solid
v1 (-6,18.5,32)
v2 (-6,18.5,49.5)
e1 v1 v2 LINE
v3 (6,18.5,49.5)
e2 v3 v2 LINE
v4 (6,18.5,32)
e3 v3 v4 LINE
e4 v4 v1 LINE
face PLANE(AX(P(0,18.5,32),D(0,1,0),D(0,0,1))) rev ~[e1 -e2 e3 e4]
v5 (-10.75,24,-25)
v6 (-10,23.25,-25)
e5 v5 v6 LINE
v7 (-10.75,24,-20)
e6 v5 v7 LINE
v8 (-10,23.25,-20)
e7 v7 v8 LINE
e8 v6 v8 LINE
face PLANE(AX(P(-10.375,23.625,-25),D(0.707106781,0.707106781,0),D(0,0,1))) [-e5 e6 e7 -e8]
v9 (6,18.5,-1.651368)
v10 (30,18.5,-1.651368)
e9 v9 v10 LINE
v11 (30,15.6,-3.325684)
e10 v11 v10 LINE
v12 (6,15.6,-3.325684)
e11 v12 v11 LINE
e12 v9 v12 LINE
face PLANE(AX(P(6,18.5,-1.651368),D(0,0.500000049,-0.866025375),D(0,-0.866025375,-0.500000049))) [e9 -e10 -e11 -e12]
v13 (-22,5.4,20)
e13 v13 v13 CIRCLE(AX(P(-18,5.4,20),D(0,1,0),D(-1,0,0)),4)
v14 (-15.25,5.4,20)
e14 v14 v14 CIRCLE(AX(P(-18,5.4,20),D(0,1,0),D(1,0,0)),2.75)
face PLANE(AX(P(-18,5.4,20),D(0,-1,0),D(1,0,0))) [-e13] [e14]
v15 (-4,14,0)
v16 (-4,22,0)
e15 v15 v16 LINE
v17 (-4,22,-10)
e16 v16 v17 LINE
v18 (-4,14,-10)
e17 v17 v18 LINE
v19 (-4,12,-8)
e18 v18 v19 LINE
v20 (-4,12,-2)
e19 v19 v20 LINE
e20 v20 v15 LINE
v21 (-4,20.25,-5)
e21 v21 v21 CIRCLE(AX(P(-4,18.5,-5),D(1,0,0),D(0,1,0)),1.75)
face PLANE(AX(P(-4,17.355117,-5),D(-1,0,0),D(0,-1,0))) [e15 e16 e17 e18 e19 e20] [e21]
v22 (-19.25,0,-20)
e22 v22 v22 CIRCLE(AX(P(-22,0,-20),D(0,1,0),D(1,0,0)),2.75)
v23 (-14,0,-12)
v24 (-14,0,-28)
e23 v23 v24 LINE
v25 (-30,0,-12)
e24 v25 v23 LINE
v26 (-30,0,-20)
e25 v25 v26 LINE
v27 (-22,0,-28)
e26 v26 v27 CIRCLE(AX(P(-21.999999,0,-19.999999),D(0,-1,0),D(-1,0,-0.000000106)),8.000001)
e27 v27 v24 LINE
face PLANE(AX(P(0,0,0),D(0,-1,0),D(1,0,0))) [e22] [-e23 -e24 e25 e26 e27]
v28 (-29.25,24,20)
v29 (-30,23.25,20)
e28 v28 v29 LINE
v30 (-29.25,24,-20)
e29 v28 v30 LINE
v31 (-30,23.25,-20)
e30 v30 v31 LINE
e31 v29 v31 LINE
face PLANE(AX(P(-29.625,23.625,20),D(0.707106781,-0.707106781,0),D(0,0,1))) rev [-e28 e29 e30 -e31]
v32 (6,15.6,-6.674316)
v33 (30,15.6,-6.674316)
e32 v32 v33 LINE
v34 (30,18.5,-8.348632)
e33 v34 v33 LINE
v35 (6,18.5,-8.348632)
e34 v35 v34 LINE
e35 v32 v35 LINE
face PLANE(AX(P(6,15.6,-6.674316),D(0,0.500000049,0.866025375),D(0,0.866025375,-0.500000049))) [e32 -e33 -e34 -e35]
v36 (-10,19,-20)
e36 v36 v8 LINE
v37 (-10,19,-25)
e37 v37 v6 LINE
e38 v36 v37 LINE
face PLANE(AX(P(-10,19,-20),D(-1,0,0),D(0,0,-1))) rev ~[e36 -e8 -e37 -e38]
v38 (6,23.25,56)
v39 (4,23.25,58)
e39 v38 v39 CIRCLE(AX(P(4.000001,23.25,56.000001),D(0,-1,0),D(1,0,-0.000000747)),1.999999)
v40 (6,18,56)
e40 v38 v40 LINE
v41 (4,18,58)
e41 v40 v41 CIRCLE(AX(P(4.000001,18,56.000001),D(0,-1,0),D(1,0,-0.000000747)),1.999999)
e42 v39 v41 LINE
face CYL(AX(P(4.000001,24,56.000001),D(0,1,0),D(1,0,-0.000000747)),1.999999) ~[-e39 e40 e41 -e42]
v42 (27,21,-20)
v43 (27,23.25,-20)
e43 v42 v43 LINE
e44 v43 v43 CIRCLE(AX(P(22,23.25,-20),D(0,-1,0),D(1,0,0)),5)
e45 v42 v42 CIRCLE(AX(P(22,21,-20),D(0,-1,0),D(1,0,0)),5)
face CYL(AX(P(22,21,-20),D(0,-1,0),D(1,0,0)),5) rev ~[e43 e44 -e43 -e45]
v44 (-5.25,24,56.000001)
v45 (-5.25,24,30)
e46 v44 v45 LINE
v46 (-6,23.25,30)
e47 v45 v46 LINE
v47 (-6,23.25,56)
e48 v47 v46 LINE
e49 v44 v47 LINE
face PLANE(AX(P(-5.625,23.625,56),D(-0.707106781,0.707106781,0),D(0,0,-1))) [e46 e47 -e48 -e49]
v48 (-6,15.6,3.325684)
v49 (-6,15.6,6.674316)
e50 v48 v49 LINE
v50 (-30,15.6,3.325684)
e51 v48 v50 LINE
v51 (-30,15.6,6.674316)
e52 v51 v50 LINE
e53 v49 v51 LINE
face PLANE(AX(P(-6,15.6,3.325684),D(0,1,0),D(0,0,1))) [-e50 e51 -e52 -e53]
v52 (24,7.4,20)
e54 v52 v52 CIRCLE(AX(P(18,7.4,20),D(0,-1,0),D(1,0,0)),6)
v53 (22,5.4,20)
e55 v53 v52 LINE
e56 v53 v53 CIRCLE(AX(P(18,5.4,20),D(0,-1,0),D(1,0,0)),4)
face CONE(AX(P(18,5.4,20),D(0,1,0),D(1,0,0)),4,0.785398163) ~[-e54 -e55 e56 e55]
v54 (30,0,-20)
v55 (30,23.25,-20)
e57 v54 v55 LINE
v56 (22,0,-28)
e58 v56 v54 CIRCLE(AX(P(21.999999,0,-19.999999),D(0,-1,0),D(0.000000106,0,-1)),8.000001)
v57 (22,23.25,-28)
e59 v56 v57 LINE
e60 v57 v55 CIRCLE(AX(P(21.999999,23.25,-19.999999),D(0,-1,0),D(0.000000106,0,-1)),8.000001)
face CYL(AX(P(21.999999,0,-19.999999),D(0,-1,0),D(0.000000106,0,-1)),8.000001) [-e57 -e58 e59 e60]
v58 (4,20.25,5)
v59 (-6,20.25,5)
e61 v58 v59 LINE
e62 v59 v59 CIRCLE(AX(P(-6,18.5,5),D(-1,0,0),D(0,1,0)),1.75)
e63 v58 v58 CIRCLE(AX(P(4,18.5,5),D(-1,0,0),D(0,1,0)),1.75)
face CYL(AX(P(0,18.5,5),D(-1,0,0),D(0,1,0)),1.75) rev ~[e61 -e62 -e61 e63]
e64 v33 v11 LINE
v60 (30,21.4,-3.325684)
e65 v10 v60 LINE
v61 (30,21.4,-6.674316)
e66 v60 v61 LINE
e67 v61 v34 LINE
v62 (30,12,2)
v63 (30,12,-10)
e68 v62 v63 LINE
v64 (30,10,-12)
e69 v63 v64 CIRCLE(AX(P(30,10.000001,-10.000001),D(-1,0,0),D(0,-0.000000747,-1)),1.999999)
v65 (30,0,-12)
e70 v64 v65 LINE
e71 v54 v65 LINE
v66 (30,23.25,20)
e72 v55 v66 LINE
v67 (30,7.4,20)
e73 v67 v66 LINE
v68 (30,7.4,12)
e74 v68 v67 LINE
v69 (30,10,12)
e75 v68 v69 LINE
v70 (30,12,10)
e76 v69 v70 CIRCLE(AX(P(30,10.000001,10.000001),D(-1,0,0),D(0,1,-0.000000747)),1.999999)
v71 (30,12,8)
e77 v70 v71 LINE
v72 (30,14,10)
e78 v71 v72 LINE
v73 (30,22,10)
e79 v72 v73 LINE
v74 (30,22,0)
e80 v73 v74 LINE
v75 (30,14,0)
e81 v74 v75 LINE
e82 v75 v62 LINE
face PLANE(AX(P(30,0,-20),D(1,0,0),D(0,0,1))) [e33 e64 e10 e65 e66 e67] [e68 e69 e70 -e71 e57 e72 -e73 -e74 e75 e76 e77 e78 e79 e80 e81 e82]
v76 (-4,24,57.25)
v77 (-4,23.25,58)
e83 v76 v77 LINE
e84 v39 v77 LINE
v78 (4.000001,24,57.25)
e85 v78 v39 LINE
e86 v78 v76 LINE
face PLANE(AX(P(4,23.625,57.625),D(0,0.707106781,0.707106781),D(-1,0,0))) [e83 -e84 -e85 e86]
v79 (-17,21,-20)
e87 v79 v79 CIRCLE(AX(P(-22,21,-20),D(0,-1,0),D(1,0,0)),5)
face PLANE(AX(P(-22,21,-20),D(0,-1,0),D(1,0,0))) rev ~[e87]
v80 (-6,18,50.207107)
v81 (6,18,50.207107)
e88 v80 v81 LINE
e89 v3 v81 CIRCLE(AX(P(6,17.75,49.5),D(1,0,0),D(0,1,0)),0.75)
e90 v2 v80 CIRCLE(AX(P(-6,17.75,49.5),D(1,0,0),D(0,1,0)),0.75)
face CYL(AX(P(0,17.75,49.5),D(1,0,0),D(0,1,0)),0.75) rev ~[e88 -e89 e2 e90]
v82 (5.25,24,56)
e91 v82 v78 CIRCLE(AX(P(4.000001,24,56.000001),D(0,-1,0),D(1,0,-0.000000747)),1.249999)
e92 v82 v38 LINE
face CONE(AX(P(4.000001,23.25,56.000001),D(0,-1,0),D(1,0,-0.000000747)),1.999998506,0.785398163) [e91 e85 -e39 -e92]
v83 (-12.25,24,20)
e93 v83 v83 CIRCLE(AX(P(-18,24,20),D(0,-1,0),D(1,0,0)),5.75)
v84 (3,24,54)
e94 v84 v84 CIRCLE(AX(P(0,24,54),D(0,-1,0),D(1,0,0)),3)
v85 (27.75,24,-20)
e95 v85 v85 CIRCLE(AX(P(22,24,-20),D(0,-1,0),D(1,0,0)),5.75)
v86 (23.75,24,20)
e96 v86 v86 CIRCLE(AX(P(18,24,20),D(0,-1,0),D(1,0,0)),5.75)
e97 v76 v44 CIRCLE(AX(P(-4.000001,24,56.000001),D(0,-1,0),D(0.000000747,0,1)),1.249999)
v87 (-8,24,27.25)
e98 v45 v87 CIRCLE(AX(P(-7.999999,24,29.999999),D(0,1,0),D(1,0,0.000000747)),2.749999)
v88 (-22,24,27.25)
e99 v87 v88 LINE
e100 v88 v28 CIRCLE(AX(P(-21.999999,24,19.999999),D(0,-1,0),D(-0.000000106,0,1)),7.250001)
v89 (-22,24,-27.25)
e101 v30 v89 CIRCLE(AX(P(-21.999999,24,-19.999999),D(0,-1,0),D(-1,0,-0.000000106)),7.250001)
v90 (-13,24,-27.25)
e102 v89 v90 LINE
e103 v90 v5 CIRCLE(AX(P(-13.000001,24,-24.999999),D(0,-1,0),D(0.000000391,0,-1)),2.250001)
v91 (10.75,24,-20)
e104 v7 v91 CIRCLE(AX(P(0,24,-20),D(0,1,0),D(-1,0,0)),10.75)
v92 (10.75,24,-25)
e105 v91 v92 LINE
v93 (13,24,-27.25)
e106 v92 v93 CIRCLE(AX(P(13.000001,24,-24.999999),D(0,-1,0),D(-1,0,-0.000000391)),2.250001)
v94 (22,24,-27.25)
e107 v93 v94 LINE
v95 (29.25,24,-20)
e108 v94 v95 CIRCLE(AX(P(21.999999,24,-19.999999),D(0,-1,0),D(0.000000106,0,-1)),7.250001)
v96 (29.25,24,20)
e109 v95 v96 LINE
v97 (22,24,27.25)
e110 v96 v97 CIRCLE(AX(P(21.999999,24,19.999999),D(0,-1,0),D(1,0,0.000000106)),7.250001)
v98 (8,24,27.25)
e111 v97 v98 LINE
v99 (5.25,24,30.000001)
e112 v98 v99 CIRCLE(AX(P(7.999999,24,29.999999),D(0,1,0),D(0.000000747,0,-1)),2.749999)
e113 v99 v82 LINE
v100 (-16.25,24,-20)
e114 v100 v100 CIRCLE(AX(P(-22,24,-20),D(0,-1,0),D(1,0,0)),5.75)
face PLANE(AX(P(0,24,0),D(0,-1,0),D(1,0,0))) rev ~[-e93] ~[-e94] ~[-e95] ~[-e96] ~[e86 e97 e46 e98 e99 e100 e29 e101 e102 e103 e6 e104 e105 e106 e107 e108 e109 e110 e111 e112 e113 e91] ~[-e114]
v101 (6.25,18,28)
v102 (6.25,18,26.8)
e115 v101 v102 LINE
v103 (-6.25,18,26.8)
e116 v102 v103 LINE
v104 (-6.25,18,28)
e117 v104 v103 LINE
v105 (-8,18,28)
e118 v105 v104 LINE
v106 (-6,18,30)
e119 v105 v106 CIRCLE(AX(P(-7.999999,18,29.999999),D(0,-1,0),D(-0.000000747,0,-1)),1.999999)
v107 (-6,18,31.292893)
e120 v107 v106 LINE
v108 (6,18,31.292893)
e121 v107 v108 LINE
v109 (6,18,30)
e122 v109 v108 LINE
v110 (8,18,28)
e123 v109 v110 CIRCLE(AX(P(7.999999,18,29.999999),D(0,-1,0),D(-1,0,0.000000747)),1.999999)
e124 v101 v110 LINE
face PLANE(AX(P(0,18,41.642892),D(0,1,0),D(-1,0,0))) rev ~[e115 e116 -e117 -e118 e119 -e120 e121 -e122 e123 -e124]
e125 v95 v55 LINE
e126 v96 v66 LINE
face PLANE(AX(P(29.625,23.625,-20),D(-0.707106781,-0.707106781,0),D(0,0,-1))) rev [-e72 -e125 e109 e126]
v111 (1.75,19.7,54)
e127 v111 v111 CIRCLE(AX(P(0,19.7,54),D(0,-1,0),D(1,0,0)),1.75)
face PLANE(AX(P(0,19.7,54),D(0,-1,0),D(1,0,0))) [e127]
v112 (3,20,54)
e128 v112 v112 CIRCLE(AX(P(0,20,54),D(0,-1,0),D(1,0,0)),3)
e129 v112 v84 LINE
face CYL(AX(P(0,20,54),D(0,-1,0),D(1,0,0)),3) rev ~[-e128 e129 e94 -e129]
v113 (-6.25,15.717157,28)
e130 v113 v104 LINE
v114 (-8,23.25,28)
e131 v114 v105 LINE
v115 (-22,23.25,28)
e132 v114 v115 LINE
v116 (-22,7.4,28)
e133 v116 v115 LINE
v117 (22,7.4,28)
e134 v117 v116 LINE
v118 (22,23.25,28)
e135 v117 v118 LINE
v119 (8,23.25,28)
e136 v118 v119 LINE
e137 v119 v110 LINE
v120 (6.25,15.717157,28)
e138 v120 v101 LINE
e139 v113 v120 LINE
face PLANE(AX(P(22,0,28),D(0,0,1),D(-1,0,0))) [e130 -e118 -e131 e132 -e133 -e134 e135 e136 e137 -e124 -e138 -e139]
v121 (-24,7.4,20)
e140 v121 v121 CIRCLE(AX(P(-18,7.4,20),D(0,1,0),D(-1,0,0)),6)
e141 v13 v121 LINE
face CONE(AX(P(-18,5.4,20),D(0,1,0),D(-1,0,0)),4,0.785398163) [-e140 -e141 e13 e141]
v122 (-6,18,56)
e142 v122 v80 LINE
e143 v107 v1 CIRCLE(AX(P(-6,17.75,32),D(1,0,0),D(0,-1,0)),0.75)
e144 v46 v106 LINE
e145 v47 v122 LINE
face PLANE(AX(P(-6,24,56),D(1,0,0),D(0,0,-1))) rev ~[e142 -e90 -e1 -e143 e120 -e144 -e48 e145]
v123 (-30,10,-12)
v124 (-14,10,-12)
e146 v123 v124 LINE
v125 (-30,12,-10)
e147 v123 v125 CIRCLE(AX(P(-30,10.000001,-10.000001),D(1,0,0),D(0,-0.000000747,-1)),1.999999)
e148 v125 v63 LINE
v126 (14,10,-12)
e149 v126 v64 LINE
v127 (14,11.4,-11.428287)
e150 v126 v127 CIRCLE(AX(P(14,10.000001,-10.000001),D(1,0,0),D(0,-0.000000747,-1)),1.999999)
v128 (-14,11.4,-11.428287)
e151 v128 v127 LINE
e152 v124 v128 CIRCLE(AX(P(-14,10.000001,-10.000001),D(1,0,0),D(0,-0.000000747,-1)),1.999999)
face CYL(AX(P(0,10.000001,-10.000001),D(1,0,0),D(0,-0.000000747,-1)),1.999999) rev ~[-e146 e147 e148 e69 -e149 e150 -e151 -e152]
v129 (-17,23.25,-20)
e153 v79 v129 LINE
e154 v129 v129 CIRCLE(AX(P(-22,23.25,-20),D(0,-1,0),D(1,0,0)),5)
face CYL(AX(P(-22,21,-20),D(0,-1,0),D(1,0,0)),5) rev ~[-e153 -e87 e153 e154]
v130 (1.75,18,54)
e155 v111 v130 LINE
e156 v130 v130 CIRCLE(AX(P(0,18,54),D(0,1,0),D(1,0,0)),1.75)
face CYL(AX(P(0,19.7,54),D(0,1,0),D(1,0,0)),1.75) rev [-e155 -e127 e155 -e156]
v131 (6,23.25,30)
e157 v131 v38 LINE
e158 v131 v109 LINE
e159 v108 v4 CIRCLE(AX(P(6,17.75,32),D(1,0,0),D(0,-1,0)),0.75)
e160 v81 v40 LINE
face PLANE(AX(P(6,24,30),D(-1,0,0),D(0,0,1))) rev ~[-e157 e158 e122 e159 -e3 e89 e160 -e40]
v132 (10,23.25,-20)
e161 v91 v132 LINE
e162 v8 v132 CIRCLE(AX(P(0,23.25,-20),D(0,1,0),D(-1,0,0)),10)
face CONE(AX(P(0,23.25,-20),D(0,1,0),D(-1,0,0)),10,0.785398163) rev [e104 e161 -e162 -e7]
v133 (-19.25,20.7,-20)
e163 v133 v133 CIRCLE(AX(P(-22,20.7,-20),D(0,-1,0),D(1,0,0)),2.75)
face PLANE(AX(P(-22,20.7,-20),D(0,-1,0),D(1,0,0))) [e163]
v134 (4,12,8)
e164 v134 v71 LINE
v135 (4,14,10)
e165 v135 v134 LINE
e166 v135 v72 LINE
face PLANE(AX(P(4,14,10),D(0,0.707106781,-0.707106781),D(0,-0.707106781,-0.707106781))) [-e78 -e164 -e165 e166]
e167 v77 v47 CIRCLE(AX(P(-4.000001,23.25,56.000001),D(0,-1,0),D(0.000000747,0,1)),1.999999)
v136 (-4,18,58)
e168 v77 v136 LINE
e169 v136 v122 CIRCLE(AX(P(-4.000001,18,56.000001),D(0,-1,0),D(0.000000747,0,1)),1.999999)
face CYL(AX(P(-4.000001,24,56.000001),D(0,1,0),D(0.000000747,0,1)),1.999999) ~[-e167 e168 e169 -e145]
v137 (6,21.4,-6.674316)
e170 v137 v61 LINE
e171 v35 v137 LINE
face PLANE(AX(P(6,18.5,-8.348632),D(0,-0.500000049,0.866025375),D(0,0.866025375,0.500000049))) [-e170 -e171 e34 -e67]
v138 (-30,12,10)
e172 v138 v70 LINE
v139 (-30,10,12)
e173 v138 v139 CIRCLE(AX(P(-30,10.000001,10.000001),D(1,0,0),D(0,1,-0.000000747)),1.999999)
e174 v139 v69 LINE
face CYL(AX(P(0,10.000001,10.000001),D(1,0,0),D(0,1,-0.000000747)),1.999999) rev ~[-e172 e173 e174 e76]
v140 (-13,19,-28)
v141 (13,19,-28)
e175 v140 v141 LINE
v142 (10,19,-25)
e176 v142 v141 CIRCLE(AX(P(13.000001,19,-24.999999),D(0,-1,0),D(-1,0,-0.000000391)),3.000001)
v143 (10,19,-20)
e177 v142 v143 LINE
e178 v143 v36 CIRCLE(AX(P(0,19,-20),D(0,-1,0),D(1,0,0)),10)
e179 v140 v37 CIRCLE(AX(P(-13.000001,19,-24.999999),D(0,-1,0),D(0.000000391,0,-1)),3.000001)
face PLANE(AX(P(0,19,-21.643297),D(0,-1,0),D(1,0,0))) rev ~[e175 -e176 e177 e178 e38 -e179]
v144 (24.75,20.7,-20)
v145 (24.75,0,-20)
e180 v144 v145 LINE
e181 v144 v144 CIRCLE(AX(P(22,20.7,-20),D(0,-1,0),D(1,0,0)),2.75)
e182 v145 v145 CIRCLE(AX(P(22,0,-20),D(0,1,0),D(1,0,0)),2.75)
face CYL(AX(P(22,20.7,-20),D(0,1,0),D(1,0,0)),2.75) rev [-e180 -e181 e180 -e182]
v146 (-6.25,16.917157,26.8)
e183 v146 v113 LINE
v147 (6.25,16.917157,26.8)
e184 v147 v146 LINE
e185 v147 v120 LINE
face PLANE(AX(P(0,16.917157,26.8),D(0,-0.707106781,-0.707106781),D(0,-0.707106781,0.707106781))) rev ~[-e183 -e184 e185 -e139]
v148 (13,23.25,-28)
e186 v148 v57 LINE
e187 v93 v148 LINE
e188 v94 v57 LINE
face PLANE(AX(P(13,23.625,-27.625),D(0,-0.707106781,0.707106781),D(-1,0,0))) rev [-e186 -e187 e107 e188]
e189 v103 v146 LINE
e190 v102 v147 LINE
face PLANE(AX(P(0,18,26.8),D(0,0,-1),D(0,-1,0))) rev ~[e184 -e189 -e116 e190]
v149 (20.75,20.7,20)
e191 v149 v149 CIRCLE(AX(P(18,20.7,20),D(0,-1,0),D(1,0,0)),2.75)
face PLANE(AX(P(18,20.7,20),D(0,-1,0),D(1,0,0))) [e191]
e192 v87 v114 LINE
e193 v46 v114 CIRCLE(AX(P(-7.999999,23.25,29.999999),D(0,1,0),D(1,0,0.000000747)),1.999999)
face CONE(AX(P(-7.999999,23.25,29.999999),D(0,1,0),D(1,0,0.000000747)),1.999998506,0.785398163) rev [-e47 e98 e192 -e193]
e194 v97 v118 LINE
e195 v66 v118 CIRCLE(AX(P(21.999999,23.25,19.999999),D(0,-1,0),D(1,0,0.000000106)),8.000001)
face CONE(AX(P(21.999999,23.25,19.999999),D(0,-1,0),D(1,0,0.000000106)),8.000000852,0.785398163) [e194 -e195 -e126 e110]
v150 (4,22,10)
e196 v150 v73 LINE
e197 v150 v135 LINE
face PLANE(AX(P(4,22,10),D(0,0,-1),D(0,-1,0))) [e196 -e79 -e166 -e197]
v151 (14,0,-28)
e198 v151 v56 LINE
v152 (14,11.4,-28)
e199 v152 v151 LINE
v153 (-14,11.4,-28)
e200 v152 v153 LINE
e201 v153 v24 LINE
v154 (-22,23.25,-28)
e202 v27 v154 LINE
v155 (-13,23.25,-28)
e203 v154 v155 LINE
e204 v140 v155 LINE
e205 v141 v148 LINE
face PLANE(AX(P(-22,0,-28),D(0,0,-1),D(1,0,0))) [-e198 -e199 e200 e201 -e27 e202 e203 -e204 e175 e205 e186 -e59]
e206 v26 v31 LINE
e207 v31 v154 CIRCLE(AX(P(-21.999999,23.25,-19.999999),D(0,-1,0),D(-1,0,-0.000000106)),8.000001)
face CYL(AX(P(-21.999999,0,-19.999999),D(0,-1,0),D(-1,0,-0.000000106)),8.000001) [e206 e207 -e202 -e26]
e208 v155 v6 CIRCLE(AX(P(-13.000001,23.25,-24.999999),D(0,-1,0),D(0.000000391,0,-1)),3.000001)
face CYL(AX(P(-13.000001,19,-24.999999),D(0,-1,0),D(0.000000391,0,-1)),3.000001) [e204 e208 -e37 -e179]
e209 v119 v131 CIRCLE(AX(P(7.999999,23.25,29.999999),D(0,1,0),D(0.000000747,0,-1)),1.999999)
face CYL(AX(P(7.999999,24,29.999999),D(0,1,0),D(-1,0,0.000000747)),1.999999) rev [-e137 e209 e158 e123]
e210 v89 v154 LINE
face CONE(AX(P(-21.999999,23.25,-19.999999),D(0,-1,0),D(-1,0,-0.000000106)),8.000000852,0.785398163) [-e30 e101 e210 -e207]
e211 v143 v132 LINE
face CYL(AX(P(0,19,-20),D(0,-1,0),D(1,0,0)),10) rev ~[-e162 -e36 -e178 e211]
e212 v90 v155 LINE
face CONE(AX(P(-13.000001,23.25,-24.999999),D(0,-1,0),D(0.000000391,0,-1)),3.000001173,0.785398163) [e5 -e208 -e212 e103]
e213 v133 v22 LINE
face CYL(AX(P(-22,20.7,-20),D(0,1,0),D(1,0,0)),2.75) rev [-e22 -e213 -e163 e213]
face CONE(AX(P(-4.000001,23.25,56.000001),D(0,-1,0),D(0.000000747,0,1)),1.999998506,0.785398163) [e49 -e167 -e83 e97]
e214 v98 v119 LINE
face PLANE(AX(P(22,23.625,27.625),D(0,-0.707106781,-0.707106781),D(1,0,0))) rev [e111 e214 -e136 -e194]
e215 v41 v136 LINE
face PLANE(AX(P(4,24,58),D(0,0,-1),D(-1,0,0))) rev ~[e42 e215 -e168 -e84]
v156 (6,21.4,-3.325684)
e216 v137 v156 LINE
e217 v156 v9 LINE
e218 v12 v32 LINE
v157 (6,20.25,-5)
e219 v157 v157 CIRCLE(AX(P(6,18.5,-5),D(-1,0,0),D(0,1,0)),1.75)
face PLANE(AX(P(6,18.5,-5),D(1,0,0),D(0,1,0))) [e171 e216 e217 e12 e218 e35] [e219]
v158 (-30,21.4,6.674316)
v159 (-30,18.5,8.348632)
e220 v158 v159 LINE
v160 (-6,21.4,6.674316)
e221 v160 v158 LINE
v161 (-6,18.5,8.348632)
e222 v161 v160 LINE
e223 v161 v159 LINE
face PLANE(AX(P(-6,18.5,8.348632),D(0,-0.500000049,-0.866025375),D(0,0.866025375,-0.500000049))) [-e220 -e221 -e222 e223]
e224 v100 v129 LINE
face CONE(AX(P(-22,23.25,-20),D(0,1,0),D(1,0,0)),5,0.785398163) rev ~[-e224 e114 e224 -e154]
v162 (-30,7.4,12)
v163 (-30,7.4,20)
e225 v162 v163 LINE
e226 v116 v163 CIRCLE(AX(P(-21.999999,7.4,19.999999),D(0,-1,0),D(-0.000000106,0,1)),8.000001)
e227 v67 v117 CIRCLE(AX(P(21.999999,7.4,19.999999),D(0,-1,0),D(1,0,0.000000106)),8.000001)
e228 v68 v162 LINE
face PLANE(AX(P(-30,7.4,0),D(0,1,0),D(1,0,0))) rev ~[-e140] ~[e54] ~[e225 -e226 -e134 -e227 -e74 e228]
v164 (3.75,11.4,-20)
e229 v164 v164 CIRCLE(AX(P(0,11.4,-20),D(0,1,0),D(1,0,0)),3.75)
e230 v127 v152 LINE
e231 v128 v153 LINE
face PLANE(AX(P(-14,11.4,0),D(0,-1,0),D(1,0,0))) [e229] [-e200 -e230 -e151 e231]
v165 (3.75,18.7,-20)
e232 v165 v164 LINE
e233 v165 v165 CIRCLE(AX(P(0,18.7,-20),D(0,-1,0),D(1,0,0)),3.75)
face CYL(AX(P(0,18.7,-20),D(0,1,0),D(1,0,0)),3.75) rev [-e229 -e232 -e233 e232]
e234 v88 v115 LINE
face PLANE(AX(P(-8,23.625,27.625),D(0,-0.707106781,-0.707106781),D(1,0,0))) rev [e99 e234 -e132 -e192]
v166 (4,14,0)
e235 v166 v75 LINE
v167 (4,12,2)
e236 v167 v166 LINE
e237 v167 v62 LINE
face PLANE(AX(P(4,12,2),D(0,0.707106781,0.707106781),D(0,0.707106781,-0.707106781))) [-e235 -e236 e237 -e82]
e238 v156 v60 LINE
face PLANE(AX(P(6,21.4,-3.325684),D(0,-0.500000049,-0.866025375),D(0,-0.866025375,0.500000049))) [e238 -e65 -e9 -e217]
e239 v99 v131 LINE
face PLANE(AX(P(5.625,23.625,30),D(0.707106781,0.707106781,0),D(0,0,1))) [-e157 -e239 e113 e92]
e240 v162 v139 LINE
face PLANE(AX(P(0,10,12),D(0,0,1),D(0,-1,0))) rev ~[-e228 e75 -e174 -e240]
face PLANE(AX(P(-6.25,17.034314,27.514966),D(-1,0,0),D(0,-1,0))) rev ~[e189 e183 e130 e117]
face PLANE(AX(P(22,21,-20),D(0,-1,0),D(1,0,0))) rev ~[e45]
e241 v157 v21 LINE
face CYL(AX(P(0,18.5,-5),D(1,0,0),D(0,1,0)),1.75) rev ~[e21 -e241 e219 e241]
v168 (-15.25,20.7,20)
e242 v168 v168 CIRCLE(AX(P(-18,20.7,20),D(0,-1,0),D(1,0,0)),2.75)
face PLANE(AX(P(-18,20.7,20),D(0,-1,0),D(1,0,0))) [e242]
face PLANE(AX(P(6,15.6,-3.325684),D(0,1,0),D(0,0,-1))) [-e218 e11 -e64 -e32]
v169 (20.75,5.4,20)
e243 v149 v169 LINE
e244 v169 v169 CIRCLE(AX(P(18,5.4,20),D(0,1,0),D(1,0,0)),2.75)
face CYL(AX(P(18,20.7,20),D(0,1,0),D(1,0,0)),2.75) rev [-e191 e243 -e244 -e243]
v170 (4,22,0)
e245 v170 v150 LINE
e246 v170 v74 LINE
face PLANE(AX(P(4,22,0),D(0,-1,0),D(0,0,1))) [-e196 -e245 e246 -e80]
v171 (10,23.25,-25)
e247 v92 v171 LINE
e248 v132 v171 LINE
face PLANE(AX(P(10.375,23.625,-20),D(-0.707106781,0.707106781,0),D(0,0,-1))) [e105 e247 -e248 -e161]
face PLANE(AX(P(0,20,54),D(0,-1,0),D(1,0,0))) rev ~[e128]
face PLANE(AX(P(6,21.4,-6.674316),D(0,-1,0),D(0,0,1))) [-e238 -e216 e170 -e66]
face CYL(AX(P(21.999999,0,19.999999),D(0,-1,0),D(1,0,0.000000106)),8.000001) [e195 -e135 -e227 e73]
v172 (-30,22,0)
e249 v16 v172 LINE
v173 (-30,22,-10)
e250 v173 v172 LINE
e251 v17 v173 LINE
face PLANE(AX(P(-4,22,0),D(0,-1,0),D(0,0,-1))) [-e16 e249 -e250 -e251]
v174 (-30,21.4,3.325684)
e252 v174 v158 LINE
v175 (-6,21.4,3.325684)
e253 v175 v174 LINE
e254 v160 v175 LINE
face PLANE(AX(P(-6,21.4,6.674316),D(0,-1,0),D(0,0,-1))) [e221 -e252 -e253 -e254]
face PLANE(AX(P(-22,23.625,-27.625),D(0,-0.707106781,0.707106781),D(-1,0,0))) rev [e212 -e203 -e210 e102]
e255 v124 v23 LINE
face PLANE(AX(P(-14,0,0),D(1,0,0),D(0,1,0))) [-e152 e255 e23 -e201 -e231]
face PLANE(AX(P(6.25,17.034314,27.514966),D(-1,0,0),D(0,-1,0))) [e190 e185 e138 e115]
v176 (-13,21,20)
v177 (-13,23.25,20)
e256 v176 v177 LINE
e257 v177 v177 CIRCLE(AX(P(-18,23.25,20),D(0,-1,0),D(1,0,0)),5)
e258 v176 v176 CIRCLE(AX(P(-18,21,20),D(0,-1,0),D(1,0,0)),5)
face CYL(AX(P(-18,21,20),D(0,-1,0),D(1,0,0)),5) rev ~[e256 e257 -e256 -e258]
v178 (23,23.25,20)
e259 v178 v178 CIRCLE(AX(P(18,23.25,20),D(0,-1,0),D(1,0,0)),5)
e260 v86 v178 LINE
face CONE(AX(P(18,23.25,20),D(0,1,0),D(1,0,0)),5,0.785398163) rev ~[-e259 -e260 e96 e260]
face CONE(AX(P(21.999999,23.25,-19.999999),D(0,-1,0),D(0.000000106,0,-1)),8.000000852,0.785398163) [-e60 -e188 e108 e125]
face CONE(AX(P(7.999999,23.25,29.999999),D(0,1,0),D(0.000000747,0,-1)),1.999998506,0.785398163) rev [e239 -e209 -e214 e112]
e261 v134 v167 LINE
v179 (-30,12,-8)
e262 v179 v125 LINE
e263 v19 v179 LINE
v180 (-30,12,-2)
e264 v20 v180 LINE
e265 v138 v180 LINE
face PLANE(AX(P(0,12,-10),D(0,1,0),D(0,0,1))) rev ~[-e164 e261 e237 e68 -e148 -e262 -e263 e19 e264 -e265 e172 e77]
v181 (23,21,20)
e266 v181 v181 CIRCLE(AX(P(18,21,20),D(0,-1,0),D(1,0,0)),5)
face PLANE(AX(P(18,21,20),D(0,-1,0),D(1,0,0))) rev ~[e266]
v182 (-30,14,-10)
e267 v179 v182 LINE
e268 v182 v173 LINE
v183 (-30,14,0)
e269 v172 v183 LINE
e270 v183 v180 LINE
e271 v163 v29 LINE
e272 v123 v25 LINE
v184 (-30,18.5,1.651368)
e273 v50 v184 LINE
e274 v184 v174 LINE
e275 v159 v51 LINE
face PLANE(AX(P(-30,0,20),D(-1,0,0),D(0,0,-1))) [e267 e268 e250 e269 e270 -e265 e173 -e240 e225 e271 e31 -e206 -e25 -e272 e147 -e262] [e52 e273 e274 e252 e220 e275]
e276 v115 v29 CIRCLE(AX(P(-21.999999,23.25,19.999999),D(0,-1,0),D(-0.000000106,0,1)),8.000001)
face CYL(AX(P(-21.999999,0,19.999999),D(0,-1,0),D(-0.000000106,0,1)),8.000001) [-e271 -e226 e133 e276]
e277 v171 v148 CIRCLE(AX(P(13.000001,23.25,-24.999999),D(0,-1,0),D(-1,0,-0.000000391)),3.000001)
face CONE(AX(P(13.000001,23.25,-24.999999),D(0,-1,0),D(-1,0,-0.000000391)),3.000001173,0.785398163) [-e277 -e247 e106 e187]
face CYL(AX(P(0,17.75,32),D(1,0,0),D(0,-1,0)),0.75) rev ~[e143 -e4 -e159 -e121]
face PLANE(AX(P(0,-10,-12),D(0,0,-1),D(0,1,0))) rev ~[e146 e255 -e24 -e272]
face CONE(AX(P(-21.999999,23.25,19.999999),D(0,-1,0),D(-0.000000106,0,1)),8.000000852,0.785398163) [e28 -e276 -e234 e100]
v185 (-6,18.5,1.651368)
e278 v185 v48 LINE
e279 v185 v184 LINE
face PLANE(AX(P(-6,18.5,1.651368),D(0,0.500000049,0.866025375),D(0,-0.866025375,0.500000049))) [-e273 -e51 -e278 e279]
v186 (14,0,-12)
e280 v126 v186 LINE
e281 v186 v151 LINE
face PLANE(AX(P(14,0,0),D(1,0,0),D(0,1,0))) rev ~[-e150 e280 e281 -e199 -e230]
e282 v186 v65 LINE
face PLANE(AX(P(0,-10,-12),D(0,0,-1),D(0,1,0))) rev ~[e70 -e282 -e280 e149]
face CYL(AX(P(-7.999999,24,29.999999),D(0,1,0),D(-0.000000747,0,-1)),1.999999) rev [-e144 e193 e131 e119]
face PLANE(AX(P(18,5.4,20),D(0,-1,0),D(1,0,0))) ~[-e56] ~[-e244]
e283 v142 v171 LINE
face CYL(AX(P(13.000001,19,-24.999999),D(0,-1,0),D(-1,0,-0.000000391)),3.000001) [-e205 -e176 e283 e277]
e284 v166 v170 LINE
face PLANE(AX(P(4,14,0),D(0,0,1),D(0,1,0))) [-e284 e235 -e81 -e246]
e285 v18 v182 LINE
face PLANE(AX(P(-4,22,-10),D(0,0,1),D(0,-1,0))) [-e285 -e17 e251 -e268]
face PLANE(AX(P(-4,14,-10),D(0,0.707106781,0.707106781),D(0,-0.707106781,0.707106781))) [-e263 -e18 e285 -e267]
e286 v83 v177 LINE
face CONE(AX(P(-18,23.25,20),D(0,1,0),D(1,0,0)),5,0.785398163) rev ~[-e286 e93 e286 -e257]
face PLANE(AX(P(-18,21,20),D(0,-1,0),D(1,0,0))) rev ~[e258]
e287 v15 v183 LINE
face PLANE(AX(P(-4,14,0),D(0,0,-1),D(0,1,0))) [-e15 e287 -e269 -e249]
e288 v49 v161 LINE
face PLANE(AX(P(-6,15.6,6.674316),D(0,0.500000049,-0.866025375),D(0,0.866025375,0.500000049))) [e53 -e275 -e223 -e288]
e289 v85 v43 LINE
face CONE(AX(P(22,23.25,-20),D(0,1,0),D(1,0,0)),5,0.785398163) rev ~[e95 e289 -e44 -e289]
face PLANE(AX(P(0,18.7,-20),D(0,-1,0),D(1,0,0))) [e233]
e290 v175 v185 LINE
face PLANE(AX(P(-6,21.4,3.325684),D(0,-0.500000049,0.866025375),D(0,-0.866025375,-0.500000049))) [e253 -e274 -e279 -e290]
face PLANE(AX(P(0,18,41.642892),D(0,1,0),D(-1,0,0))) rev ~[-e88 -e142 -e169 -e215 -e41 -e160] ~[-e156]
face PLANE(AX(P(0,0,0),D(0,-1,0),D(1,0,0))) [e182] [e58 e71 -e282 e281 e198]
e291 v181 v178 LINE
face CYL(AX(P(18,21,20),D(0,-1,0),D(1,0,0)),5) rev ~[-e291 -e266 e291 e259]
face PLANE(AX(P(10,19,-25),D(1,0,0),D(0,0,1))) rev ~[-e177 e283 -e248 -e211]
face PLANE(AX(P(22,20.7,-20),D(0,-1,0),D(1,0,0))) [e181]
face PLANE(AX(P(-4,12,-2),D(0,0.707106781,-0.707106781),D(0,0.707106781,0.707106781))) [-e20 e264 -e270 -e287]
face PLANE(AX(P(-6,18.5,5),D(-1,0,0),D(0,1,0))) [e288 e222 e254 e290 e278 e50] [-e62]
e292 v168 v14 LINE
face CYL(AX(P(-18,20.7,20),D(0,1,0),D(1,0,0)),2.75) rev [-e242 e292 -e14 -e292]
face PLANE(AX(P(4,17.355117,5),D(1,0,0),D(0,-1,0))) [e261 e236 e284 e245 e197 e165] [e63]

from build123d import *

# Parameters (mm, degrees)
PAD025_DEPTH          = 24
POCKET273_DEPTH       = 30.001
POCKET273_DEPTH_BACK  = 30.001
SKETCH402_W           = 28
SKETCH402_H           = 11.4
POCKET274_DEPTH       = 28.001
SKETCH404_W           = 60
SKETCH404_H           = 7.4
POCKET275_DEPTH       = 28.001
SKETCH405_R           = 2.75
POCKET276_DEPTH       = 20.701
SKETCH406_R           = 5
POCKET277_DEPTH       = 3.001
POCKET278_DEPTH       = 5.001
SKETCH408_R           = 3.75
POCKET279_DEPTH       = 18.701
POCKET280_DEPTH       = 197.021467
SKETCH410_R           = 1.75
POCKET281_DEPTH       = 201.021467
POCKET281_DEPTH_BACK  = 201.021467
POCKET282_DEPTH       = 195.021467
POLARPATTERN003_COUNT = 2
PAD026_DEPTH          = 6
POCKET283_DEPTH       = 6.25
SKETCH414_R           = 1.75
POCKET284_DEPTH       = 19.701
SKETCH415_R           = 3
POCKET285_DEPTH       = 4.001
CHAMFER024_SIZE       = 0.75


with BuildPart() as part:
    # Sketch400 → Pad025 (new body)
    with BuildSketch(Plane.XZ):
        with BuildLine():
            Line((-30, 20), (-30, -20))
            ThreePointArc((-30, -20), (-27.656854, -25.656854), (-22, -28))
            Line((-22, -28), (22, -28))
            ThreePointArc((22, -28), (27.656854, -25.656854), (30, -20))
            Line((30, -20), (30, 20))
            ThreePointArc((30, 20), (27.656854, 25.656854), (22, 28))
            Line((22, 28), (-22, 28))
            ThreePointArc((-22, 28), (-27.656854, 25.656854), (-30, 20))
        make_face()
    extrude(amount=-PAD025_DEPTH)

    # Sketch401 → Pocket273 (cut, two sides)
    with BuildSketch(Plane.YZ) as pocket273_sk:
        with BuildLine():
            Line((-12, 10), (-12, -10))
            ThreePointArc((-12, -10), (-11.414214, -11.414214), (-10, -12))
            Line((-10, -12), (10, -12))
            ThreePointArc((10, -12), (11.414214, -11.414214), (12, -10))
            Line((12, -10), (12, 10))
            ThreePointArc((12, 10), (11.414214, 11.414214), (10, 12))
            Line((10, 12), (-10, 12))
            ThreePointArc((-10, 12), (-11.414214, 11.414214), (-12, 10))
        make_face()
    extrude(amount=-POCKET273_DEPTH, mode=Mode.SUBTRACT)
    extrude(pocket273_sk.sketch, amount=POCKET273_DEPTH_BACK, mode=Mode.SUBTRACT)

    # Sketch402 → Pocket274 (cut, through all)
    with BuildSketch(Plane.XY):
        with Locations((0, 5.7)):
            Rectangle(SKETCH402_W, SKETCH402_H)
    extrude(amount=-POCKET274_DEPTH, mode=Mode.SUBTRACT)

    # Sketch404 → Pocket275 (cut, through all)
    with BuildSketch(Plane.XY):
        with Locations((0, 3.7)):
            Rectangle(SKETCH404_W, SKETCH404_H)
    extrude(amount=POCKET275_DEPTH, mode=Mode.SUBTRACT)

    # Sketch403 → Revolution012 (revolve)
    with BuildSketch(Plane.XY.offset(20)):
        Polygon((18, 7.4), (18, 5.4), (22, 5.4), (24, 7.4), align=None)
    revolution012 = revolve(axis=Axis((18, 7.4, 20), (0, -1, 0)))

    # Mirrored020: Revolution012 across YZ
    add(revolution012.mirror(Plane.YZ))

    # Sketch405 → Pocket276 (cut, through all)
    with BuildSketch(Plane.XZ.offset(-20.7)):
        with Locations((-18, 20)):
            Circle(SKETCH405_R)
        with Locations((18, 20)):
            Circle(SKETCH405_R)
        with Locations((-22, -20)):
            Circle(SKETCH405_R)
        with Locations((22, -20)):
            Circle(SKETCH405_R)
    extrude(amount=POCKET276_DEPTH, mode=Mode.SUBTRACT)

    # Sketch406 → Pocket277 (cut, through all)
    with BuildSketch(Plane.XZ.offset(-21)):
        with Locations((-18, 20)):
            Circle(SKETCH406_R)
        with Locations((18, 20)):
            Circle(SKETCH406_R)
        with Locations((-22, -20)):
            Circle(SKETCH406_R)
        with Locations((22, -20)):
            Circle(SKETCH406_R)
    extrude(amount=-POCKET277_DEPTH, mode=Mode.SUBTRACT)

    # Sketch407 → Pocket278 (cut, through all)
    with BuildSketch(Plane.XZ.offset(-19)):
        with BuildLine():
            ThreePointArc((10, -20), (0, -10), (-10, -20))
            Line((-10, -20), (-10, -25))
            ThreePointArc((-13, -28), (-10.87868, -27.12132), (-10, -25))
            Line((-13, -28), (13, -28))
            ThreePointArc((10, -25), (10.87868, -27.12132), (13, -28))
            Line((10, -25), (10, -20))
        make_face()
    extrude(amount=-POCKET278_DEPTH, mode=Mode.SUBTRACT)

    # Sketch408 → Pocket279 (cut, through all)
    with BuildSketch(Plane.XZ.offset(-18.7)):
        with Locations((0, -20)):
            Circle(SKETCH408_R)
    extrude(amount=POCKET279_DEPTH, mode=Mode.SUBTRACT)

    # Sketch409 → Pocket280 (cut, through all)
    with BuildSketch(Plane.YZ.offset(-4)):
        Polygon((14, 0), (22, 0), (22, -10), (14, -10), (12, -8), (12, -2), align=None)
    pocket280 = extrude(amount=-POCKET280_DEPTH, mode=Mode.SUBTRACT)

    # Sketch410 → Pocket281 (cut, two sides)
    with BuildSketch(Plane.YZ) as pocket281_sk:
        with Locations((18.5, -5)):
            Circle(SKETCH410_R)
    pocket281 = extrude(amount=-POCKET281_DEPTH, mode=Mode.SUBTRACT) + extrude(pocket281_sk.sketch, amount=POCKET281_DEPTH_BACK, mode=Mode.SUBTRACT)

    # Sketch411 → Pocket282 (cut, through all)
    with BuildSketch(Plane.YZ.offset(6)):
        Polygon((21.4, -6.674316), (21.4, -3.325684), (18.5, -1.651368), (15.6, -3.325684), (15.6, -6.674316), (18.5, -8.348632), align=None)
    pocket282 = extrude(amount=POCKET282_DEPTH, mode=Mode.SUBTRACT)

    # PolarPattern003: Pocket282, Pocket280, Pocket281 ×2 about axis
    polarpattern003_axis = Axis((0, 0, 0), (0, 1, 0))
    for i in range(1, POLARPATTERN003_COUNT):
        add(pocket282.rotate(polarpattern003_axis, i * 360 / POLARPATTERN003_COUNT), mode=Mode.SUBTRACT)
        add(pocket280.rotate(polarpattern003_axis, i * 360 / POLARPATTERN003_COUNT), mode=Mode.SUBTRACT)
        add(pocket281.rotate(polarpattern003_axis, i * 360 / POLARPATTERN003_COUNT), mode=Mode.SUBTRACT)

    # Sketch412 → Pad026 (join)
    with BuildSketch(Plane.XZ.offset(-24)):
        with BuildLine():
            ThreePointArc((6, 30), (6.585786, 28.585786), (8, 28))
            Line((-8, 28), (8, 28))
            ThreePointArc((-8, 28), (-6.585786, 28.585786), (-6, 30))
            Line((-6, 56), (-6, 30))
            ThreePointArc((-4, 58), (-5.414214, 57.414214), (-6, 56))
            Line((4, 58), (-4, 58))
            ThreePointArc((6, 56), (5.414214, 57.414214), (4, 58))
            Line((6, 30), (6, 56))
        make_face()
    extrude(amount=PAD026_DEPTH)

    # Sketch413 → Pocket283 (cut, symmetric)
    with BuildSketch(Plane.YZ):
        Polygon((18, 28), (18, 26.8), (16.917157, 26.8), (15.717157, 28), align=None)
        with BuildLine():
            ThreePointArc((18.5, 49.5), (17.75, 50.25), (17, 49.5))
            Line((17, 49.5), (17, 32))
            ThreePointArc((17, 32), (17.75, 31.25), (18.5, 32))
            Line((18.5, 32), (18.5, 49.5))
        make_face()
    extrude(amount=POCKET283_DEPTH, both=True, mode=Mode.SUBTRACT)

    # Sketch414 → Pocket284 (cut, through all)
    with BuildSketch(Plane.XZ.offset(-19.7)):
        with Locations((0, 54)):
            Circle(SKETCH414_R)
    extrude(amount=POCKET284_DEPTH, mode=Mode.SUBTRACT)

    # Sketch415 → Pocket285 (cut, through all)
    with BuildSketch(Plane.XZ.offset(-20)):
        with Locations((0, 54)):
            Circle(SKETCH415_R)
    extrude(amount=-POCKET285_DEPTH, mode=Mode.SUBTRACT)

    # Chamfer024
    chamfer024_edges = [part.edges().sort_by_distance(p)[0] for p in [
        (-15, 24, 28),
        (17, 24, -20),
        (13, 24, 20),
        (-23, 24, 20),
        (-27, 24, -20),
    ]]
    chamfer(chamfer024_edges, length=CHAMFER024_SIZE)


solid = part.part
